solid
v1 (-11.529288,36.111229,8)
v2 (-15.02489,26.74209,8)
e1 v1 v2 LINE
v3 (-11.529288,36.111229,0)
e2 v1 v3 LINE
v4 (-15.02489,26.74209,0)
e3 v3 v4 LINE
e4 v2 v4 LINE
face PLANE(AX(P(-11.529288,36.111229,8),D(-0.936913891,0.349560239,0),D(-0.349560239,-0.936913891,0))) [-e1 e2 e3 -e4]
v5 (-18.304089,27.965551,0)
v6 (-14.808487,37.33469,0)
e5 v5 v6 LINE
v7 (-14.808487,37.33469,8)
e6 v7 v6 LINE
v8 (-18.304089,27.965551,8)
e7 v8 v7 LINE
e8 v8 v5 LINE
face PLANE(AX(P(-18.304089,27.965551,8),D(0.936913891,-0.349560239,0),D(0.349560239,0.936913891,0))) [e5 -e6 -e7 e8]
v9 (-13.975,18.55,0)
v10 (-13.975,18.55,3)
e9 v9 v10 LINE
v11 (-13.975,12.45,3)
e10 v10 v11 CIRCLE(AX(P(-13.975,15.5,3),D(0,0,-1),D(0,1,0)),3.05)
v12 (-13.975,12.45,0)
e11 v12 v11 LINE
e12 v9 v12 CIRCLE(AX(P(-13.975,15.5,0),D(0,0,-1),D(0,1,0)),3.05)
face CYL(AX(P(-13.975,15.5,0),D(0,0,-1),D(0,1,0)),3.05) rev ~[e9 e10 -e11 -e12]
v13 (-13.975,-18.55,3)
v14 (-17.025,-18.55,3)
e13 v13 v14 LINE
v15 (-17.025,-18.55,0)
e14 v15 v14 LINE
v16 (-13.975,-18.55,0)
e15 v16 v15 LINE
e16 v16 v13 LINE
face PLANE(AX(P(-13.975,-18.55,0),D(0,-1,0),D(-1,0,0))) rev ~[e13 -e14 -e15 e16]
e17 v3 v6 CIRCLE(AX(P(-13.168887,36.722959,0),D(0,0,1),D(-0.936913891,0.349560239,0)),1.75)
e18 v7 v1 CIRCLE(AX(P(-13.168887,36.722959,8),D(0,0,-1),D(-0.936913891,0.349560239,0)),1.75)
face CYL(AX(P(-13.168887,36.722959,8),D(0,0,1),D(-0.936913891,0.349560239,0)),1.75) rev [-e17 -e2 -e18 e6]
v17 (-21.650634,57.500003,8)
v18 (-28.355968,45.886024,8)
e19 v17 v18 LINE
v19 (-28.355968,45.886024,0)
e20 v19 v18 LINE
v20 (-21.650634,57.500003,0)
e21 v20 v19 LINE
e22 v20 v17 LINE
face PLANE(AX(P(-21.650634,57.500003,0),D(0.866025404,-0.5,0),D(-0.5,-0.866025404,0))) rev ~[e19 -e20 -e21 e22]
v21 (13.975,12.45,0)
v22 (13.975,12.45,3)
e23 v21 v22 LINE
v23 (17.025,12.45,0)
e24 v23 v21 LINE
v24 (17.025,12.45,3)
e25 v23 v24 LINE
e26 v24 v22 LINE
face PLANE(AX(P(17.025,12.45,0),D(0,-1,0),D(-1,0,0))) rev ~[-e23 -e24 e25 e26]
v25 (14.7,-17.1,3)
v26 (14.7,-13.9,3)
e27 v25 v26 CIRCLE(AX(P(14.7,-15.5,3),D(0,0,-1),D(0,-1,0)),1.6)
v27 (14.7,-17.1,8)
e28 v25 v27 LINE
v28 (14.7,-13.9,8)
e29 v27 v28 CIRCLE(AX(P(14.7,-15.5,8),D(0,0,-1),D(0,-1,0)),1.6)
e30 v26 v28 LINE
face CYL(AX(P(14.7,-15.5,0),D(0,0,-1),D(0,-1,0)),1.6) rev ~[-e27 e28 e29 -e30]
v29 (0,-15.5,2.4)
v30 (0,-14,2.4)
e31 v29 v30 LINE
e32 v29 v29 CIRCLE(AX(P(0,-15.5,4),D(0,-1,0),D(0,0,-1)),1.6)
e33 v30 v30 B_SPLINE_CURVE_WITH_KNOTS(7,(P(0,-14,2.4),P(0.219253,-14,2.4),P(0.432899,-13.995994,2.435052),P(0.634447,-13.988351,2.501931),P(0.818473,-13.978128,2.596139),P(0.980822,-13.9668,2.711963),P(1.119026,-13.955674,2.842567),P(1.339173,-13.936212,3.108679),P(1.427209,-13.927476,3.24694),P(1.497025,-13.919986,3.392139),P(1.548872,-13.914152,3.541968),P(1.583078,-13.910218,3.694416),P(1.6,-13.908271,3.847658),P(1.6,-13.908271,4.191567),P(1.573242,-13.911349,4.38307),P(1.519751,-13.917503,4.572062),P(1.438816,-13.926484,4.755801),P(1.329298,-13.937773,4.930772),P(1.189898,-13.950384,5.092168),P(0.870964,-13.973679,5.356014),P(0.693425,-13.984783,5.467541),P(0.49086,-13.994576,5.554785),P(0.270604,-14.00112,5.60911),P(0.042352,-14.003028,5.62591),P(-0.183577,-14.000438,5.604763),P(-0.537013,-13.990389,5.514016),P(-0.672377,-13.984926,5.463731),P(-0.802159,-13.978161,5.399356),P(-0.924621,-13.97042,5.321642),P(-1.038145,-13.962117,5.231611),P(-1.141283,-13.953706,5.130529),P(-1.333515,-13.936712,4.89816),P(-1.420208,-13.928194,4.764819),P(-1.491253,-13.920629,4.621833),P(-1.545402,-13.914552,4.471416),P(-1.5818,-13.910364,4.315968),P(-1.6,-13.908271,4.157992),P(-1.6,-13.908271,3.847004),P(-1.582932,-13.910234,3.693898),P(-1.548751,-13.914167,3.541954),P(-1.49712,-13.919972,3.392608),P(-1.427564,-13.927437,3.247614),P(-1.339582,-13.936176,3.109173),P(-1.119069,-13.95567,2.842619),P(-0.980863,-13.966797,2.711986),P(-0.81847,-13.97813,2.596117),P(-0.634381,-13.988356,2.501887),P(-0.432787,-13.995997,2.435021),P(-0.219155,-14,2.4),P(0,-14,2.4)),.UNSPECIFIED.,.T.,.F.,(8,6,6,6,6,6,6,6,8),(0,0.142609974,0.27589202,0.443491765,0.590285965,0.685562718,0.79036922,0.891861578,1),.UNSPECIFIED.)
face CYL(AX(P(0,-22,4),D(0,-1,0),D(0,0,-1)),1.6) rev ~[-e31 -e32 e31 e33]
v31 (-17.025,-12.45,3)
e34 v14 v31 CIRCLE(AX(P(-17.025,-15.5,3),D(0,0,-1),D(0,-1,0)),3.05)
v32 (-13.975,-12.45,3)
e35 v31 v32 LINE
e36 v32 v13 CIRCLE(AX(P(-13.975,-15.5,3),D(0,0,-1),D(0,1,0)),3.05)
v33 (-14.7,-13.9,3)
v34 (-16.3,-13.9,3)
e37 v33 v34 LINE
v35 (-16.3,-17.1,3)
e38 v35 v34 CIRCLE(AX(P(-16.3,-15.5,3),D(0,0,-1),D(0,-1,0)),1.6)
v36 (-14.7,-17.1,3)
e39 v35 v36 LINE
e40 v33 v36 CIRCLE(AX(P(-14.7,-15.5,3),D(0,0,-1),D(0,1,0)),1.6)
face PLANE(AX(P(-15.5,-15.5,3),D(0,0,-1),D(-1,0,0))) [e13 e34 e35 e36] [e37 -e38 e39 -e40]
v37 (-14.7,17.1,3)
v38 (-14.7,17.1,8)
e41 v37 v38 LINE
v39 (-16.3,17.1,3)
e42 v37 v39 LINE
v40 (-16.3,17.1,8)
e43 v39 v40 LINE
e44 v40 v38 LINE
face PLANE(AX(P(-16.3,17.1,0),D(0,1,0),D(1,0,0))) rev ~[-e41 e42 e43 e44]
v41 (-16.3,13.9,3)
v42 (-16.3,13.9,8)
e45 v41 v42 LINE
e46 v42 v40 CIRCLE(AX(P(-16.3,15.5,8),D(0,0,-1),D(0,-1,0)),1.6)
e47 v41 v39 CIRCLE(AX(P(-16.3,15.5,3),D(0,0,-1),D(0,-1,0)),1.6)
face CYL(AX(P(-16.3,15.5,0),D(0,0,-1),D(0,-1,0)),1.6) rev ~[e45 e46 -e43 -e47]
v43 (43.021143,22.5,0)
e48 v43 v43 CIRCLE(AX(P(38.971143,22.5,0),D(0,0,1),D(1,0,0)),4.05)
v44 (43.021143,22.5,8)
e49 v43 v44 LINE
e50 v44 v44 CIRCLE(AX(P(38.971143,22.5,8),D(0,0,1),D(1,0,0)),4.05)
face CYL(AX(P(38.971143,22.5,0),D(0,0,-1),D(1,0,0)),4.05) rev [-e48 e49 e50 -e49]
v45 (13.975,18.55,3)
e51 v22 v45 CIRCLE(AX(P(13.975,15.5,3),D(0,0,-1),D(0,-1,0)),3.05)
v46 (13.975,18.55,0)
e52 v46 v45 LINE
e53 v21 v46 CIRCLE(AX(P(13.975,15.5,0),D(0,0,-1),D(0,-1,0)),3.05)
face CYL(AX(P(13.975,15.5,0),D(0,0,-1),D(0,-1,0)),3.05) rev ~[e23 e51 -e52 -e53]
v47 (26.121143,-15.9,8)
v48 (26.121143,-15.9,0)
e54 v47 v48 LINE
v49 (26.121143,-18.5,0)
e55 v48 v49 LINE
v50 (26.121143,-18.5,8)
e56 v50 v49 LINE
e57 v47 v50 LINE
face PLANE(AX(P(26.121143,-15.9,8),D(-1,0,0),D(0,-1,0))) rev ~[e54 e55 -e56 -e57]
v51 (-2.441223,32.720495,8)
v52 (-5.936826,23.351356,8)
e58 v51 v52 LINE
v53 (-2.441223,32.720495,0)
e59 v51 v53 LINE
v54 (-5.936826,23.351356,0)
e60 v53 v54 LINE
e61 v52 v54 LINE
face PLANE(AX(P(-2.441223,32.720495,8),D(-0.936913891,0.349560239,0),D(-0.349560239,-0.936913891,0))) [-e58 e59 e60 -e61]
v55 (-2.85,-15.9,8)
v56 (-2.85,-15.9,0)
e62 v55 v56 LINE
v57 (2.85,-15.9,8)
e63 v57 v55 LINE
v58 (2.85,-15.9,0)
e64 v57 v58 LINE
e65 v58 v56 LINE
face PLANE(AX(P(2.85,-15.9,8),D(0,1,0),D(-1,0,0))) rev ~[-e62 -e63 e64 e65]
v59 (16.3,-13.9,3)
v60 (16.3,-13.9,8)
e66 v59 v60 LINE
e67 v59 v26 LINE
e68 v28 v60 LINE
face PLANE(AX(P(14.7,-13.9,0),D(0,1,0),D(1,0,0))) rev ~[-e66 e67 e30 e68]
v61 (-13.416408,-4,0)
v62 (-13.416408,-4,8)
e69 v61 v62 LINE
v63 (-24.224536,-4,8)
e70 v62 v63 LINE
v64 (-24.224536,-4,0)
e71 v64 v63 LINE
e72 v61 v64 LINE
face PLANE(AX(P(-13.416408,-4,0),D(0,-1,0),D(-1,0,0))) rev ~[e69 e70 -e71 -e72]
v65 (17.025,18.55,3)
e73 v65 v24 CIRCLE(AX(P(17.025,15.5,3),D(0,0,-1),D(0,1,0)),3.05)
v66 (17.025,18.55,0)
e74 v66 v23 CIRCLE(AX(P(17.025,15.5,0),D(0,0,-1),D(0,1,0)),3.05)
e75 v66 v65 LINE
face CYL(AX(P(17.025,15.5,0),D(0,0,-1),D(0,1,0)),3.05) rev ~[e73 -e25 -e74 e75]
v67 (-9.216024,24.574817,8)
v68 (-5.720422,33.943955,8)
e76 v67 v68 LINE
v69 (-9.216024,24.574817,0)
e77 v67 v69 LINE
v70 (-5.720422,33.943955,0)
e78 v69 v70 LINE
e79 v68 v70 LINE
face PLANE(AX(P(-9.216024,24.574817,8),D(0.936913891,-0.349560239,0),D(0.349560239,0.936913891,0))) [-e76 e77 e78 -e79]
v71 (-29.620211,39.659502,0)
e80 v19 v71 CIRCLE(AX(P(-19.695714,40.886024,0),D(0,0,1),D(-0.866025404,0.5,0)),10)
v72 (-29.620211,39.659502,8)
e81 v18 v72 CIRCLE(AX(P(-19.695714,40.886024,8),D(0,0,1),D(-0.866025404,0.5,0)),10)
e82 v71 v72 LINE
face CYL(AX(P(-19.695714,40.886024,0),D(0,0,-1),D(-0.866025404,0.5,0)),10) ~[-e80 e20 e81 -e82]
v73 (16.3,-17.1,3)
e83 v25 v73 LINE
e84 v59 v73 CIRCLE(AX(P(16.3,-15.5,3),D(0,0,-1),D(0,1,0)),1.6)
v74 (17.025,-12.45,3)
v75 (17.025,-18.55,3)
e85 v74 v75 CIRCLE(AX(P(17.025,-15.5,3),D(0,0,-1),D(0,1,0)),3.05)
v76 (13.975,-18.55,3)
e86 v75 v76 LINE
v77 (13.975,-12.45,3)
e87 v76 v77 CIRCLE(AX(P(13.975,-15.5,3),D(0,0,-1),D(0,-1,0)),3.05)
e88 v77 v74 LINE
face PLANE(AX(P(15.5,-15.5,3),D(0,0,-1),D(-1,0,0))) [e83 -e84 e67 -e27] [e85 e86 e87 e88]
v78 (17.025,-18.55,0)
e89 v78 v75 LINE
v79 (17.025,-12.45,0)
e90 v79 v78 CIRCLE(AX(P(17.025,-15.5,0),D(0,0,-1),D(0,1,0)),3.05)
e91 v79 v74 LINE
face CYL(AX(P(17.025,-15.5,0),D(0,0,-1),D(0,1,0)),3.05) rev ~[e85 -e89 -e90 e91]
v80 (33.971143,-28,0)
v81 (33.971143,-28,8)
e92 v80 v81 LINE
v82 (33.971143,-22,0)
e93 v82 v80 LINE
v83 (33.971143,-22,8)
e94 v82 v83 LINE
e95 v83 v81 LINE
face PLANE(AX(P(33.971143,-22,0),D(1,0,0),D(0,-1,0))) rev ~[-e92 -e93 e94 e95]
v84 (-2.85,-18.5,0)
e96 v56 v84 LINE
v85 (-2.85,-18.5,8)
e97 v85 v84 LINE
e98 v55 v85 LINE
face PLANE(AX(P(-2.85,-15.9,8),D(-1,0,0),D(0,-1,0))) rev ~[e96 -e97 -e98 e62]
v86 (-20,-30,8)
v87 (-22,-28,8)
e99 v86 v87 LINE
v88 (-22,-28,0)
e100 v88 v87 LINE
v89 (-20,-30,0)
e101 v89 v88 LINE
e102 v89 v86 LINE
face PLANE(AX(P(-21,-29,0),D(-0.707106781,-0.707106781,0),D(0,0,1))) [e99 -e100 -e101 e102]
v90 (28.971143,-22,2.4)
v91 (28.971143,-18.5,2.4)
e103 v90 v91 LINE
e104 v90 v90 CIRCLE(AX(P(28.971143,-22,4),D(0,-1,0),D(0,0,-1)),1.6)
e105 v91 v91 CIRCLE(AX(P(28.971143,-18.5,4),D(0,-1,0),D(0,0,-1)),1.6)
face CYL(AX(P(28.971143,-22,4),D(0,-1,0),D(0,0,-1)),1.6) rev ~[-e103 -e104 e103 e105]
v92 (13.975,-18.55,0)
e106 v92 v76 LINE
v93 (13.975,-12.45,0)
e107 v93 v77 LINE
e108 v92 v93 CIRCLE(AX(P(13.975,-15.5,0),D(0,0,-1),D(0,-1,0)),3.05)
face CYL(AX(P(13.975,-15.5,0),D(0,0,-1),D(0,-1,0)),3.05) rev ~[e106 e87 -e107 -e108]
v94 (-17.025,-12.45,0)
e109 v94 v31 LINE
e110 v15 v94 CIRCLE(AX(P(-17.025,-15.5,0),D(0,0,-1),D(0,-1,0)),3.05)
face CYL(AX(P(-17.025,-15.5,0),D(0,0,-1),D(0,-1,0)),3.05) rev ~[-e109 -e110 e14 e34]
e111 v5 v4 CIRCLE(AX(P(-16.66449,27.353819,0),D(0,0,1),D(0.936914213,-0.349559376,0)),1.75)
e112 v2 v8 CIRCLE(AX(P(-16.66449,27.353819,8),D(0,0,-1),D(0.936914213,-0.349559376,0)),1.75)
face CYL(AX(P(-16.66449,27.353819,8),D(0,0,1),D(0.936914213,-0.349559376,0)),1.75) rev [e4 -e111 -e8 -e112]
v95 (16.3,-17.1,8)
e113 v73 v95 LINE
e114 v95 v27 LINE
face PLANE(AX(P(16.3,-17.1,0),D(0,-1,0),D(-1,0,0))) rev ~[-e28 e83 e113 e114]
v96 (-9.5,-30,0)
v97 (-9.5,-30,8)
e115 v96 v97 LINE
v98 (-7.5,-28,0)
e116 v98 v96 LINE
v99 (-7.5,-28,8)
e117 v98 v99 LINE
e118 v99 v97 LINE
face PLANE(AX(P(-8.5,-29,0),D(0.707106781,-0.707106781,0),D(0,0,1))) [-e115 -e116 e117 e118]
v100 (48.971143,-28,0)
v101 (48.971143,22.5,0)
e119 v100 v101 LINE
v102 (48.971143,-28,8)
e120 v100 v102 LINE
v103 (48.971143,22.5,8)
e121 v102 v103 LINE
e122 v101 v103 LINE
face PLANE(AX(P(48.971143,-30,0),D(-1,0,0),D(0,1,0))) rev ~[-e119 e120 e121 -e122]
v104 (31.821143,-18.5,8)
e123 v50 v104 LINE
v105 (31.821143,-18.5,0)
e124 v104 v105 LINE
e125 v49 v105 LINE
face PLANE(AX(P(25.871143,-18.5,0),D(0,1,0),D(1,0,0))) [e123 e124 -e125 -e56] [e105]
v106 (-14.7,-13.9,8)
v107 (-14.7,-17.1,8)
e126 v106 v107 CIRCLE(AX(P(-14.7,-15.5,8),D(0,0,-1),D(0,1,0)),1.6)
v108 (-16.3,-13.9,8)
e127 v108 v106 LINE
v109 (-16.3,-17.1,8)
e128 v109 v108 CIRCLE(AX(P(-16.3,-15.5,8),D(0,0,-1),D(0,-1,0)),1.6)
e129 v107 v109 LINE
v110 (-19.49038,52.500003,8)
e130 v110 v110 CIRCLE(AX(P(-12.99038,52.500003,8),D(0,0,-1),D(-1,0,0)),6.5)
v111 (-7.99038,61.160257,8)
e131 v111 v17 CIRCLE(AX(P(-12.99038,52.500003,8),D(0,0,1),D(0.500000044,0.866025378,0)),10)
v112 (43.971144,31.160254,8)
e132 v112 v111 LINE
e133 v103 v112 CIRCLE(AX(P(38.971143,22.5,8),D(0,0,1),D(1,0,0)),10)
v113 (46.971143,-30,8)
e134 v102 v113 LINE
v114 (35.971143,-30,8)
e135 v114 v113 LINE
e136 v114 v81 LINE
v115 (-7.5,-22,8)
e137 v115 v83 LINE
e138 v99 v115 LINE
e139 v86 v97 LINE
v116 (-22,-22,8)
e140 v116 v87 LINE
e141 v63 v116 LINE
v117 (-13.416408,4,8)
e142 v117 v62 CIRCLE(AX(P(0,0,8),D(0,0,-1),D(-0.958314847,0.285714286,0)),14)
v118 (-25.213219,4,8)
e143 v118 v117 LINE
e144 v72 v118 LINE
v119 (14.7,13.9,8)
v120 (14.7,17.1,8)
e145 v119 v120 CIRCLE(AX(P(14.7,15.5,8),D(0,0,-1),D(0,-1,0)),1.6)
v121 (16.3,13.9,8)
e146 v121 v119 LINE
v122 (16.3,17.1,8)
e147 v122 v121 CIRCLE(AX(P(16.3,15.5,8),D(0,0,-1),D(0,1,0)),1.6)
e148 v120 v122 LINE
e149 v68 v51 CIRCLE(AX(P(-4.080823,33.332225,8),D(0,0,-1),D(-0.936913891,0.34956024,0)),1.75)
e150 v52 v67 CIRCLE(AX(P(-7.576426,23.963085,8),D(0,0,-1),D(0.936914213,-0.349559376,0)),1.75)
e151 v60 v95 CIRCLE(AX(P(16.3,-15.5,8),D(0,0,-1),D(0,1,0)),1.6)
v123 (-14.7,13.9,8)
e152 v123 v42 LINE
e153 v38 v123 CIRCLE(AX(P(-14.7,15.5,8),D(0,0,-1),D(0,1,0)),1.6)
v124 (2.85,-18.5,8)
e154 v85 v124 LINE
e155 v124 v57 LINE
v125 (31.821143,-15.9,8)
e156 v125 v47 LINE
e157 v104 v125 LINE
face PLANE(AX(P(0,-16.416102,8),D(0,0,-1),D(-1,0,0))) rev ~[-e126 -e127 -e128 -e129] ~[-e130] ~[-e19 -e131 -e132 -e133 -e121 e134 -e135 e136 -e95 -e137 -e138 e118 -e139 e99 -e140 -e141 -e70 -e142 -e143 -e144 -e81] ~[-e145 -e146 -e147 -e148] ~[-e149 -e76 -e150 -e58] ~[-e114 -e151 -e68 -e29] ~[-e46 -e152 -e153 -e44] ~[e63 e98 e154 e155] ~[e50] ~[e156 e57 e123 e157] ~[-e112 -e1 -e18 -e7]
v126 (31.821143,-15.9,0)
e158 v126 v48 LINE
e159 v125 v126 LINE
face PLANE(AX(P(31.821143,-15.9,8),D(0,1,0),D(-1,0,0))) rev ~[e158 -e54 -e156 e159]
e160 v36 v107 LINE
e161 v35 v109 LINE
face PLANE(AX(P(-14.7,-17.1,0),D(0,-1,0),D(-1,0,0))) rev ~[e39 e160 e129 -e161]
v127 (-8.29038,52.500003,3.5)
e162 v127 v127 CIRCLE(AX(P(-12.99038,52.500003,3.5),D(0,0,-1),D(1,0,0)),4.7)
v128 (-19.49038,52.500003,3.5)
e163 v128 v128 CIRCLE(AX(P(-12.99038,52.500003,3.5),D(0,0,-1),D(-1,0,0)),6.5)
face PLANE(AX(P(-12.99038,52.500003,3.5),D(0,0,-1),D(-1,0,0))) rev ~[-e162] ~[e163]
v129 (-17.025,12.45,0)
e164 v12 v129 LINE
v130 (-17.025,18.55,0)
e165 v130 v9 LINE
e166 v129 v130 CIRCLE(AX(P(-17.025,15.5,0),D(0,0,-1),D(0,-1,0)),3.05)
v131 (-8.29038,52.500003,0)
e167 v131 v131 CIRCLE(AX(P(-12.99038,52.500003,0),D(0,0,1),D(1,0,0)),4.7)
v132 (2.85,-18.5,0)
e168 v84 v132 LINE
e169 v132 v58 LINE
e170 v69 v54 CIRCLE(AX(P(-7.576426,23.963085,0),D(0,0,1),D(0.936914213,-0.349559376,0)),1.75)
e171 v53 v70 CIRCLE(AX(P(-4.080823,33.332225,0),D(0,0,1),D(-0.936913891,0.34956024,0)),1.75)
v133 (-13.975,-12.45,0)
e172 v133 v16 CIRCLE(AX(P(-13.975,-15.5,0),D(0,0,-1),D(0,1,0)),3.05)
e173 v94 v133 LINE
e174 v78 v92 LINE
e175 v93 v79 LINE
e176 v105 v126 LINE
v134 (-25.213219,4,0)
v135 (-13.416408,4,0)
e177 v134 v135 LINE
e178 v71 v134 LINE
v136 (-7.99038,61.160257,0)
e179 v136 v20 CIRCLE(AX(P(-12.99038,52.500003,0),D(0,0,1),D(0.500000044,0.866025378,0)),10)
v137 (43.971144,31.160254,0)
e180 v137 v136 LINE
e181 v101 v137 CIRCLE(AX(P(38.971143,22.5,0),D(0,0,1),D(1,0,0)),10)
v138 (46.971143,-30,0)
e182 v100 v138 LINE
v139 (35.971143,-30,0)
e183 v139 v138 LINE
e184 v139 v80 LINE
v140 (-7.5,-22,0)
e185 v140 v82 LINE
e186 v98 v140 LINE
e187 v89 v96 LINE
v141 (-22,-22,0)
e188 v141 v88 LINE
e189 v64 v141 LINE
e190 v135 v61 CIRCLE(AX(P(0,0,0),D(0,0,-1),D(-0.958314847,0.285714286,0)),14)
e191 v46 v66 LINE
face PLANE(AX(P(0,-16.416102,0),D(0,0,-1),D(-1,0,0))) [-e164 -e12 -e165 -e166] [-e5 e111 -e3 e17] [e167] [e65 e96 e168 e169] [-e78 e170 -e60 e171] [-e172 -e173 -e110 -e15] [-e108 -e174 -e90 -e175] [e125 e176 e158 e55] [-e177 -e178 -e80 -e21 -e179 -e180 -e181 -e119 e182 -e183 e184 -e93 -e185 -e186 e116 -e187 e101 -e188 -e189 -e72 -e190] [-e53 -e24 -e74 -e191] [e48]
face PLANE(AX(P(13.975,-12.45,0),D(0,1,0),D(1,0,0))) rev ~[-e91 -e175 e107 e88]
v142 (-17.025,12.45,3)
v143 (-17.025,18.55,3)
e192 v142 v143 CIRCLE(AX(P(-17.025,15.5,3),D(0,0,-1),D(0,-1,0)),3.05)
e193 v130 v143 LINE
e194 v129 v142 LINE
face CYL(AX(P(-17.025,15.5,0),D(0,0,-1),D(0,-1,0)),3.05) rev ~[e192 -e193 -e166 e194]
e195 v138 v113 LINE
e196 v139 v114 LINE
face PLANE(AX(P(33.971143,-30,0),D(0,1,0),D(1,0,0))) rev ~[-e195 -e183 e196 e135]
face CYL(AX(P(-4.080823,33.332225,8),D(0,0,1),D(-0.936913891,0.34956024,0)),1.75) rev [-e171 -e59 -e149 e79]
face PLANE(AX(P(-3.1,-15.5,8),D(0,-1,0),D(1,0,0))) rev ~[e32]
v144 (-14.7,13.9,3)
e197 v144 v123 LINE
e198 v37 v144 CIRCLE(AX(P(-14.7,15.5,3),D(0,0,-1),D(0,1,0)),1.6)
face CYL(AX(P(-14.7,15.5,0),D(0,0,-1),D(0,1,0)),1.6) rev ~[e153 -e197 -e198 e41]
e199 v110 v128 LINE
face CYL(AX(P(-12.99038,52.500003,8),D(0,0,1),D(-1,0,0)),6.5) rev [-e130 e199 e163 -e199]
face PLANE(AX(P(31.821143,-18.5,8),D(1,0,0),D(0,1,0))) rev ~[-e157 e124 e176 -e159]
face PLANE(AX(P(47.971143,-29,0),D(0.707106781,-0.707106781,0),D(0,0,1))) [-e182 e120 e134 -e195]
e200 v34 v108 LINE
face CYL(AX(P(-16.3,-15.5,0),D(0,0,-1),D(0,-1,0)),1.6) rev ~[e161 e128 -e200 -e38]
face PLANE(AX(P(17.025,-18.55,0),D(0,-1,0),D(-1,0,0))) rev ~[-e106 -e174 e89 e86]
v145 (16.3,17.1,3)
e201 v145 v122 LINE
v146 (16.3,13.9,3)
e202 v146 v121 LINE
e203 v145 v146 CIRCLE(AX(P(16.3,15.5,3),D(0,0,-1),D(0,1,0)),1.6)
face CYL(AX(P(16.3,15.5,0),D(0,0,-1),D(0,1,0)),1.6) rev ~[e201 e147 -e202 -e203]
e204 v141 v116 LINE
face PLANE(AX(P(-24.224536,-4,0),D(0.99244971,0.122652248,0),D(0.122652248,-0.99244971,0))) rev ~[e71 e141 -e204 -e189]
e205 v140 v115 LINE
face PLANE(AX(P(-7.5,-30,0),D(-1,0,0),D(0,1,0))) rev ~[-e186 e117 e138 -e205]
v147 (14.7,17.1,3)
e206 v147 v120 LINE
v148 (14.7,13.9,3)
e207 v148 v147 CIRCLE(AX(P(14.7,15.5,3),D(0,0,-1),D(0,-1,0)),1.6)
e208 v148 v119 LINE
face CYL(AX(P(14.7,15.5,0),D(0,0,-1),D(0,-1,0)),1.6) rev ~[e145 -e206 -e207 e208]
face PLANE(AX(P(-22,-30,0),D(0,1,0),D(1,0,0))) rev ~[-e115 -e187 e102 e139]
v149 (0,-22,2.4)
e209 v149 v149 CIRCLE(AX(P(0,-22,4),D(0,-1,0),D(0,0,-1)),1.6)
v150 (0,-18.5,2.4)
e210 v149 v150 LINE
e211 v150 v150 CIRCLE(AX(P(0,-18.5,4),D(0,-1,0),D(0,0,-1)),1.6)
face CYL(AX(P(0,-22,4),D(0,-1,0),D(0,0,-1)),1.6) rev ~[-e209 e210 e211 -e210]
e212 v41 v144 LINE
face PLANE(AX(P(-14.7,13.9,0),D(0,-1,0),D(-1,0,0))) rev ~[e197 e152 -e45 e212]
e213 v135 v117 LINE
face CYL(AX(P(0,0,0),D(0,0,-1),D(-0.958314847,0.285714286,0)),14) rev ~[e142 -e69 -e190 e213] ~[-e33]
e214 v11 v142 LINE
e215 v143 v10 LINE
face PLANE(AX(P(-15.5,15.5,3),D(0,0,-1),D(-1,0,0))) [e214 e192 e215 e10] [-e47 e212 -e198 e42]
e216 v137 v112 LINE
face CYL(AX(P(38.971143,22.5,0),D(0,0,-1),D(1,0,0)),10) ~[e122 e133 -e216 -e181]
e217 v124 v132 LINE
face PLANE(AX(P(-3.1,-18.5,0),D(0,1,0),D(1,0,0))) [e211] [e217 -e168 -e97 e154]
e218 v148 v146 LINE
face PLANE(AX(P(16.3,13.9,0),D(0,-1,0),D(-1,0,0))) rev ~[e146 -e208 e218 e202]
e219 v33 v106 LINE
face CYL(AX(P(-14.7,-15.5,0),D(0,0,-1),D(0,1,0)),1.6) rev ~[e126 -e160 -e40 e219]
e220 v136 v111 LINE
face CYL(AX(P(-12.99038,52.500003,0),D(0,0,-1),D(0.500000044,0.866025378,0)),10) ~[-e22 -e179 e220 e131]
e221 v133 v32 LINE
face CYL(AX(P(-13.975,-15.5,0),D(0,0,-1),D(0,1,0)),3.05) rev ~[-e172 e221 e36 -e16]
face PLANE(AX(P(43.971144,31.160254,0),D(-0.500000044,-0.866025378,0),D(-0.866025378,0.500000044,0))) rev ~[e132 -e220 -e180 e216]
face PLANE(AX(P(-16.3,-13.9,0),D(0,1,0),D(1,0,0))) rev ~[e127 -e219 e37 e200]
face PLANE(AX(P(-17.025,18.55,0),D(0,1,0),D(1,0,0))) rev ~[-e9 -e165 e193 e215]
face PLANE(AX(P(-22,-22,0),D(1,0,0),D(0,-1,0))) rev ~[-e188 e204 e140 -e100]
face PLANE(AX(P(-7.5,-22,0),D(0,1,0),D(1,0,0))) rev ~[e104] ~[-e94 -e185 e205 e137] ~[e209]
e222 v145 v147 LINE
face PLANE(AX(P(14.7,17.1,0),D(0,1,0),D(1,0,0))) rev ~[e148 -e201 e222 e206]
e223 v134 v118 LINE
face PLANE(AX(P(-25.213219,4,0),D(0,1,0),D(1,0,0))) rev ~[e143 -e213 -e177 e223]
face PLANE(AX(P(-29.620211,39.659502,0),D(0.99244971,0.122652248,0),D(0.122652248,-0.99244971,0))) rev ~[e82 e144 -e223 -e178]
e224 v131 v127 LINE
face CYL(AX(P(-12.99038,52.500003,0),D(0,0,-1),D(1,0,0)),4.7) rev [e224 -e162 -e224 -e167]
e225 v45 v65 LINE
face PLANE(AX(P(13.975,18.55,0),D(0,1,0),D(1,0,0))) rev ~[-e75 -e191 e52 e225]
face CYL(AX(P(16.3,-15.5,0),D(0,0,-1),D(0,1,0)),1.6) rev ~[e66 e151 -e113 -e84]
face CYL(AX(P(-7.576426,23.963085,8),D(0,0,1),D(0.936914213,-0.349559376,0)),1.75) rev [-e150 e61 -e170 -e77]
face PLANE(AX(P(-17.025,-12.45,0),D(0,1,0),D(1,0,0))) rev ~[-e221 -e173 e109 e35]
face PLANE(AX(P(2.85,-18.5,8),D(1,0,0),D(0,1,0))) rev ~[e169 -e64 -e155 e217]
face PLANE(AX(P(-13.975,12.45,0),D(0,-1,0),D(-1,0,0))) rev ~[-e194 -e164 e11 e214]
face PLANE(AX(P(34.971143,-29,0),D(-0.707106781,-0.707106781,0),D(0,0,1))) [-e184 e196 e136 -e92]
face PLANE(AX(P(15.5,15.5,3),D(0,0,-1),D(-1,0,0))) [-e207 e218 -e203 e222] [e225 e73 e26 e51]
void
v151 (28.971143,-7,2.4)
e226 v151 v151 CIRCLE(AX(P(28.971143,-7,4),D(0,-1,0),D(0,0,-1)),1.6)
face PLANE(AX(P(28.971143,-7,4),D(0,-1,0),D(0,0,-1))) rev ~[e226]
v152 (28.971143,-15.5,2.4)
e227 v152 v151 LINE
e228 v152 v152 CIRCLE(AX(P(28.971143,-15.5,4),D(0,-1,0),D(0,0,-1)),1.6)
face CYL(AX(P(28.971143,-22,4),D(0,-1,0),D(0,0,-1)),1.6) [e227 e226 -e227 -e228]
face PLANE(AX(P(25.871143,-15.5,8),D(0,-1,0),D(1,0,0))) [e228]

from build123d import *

# Parameters (mm, degrees)
SKETCH_3_R          = 4.05
SKETCH_3_R_2        = 4.7
SKETCH_3_W          = 6.2
SKETCH_3_H          = 3
EXTRUDE_1_DEPTH     = 8
SKETCH_4_R          = 6.5
CUT_EXTRUDE_1_DEPTH = 4.5
CUT_EXTRUDE_2_DEPTH = 3
SKETCH_6_R          = 1.6
CUT_EXTRUDE_3_DEPTH = 15
SKETCH_7_R          = 4.05
CUT_EXTRUDE_4_DEPTH = 80.802401326
CHAMFER_1_SIZE      = 2
EXTRUDE_2_DEPTH     = 8


with BuildPart() as part:
    # 草图3 → 凸台-拉伸1 (new body)
    with BuildSketch(Plane.XY):
        with BuildLine():
            Line((43.971143614, 31.160253781), (-7.990379897, 61.160256921))
            ThreePointArc((-7.990379897, 61.160256921), (-15.578570545, 62.159261468), (-21.650634379, 57.500003139))
            Line((-21.650634379, 57.500003139), (-28.355968253, 45.886024187))
            ThreePointArc((-28.355968253, 45.886024187), (-29.495746829, 42.875838443), (-29.620211311, 39.659501706))
            Line((-29.620211311, 39.659501706), (-25.213219189, 4))
            Line((-25.213219189, 4), (-13.416407865, 4))
            ThreePointArc((-13.416407865, 4), (14, 0), (-13.416407865, -4))
            Line((-13.416407865, -4), (-24.224536362, -4))
            Line((-24.224536362, -4), (-22, -22))
            Line((-22, -22), (-22, -30))
            Line((-22, -30), (-7.5, -30))
            Line((-7.5, -30), (-7.5, -22))
            Line((-7.5, -22), (33.97114317, -22))
            Line((33.97114317, -22), (33.97114317, -30))
            Line((33.97114317, -30), (48.97114317, -30))
            Line((48.97114317, -30), (48.97114317, 22.5))
            ThreePointArc((48.97114317, 22.5), (47.631397336, 27.499999778), (43.971143614, 31.160253781))
        make_face()
        with Locations((38.97114317, 22.5)):
            Circle(SKETCH_3_R, mode=Mode.SUBTRACT)
        with Locations((-12.990380341, 52.500003139)):
            Circle(SKETCH_3_R_2, mode=Mode.SUBTRACT)
        with BuildLine():
            Line((-16.3, 17.1), (-14.7, 17.1))
            ThreePointArc((-14.7, 17.1), (-13.1, 15.5), (-14.7, 13.9))
            Line((-14.7, 13.9), (-16.3, 13.9))
            ThreePointArc((-16.3, 13.9), (-17.9, 15.5), (-16.3, 17.1))
        make_face(mode=Mode.SUBTRACT)
        with BuildLine():
            Line((14.7, 17.1), (16.3, 17.1))
            ThreePointArc((16.3, 17.1), (17.9, 15.5), (16.3, 13.9))
            Line((16.3, 13.9), (14.7, 13.9))
            ThreePointArc((14.7, 13.9), (13.1, 15.5), (14.7, 17.1))
        make_face(mode=Mode.SUBTRACT)
        with BuildLine():
            Line((14.7, -13.9), (16.3, -13.9))
            ThreePointArc((16.3, -13.9), (17.9, -15.5), (16.3, -17.1))
            Line((16.3, -17.1), (14.7, -17.1))
            ThreePointArc((14.7, -17.1), (13.1, -15.5), (14.7, -13.9))
        make_face(mode=Mode.SUBTRACT)
        with BuildLine():
            Line((-16.3, -13.9), (-14.7, -13.9))
            ThreePointArc((-14.7, -13.9), (-13.1, -15.5), (-14.7, -17.1))
            Line((-14.7, -17.1), (-16.3, -17.1))
            ThreePointArc((-16.3, -17.1), (-17.9, -15.5), (-16.3, -13.9))
        make_face(mode=Mode.SUBTRACT)
        with Locations((0, -17)):
            Rectangle(SKETCH_3_W, SKETCH_3_H, mode=Mode.SUBTRACT)
        with Locations((28.97114317, -17)):
            Rectangle(SKETCH_3_W, SKETCH_3_H, mode=Mode.SUBTRACT)
    extrude(amount=EXTRUDE_1_DEPTH)

    # 草图4 → 切除-拉伸1 (cut)
    with BuildSketch(Plane(origin=(0, 0, 8), x_dir=(-1, 0, 0), z_dir=(0, 0, -1))):
        with Locations((12.990380341, 52.500003139)):
            Circle(SKETCH_4_R)
    extrude(amount=CUT_EXTRUDE_1_DEPTH, mode=Mode.SUBTRACT)

    # 草图5 → 切除-拉伸2 (cut)
    with BuildSketch(Plane.XY):
        with BuildLine():
            Line((-17.025, 18.55), (-13.975, 18.55))
            ThreePointArc((-13.975, 18.55), (-10.925, 15.5), (-13.975, 12.45))
            Line((-13.975, 12.45), (-17.025, 12.45))
            ThreePointArc((-17.025, 12.45), (-20.075, 15.5), (-17.025, 18.55))
        make_face()
        with BuildLine():
            Line((13.975, 18.55), (17.025, 18.55))
            ThreePointArc((17.025, 18.55), (20.075, 15.5), (17.025, 12.45))
            Line((17.025, 12.45), (13.975, 12.45))
            ThreePointArc((13.975, 12.45), (10.925, 15.5), (13.975, 18.55))
        make_face()
        with BuildLine():
            Line((13.975, -12.45), (17.025, -12.45))
            ThreePointArc((17.025, -12.45), (20.075, -15.5), (17.025, -18.55))
            Line((17.025, -18.55), (13.975, -18.55))
            ThreePointArc((13.975, -18.55), (10.925, -15.5), (13.975, -12.45))
        make_face()
        with BuildLine():
            Line((-17.025, -12.45), (-13.975, -12.45))
            ThreePointArc((-13.975, -12.45), (-10.925, -15.5), (-13.975, -18.55))
            Line((-13.975, -18.55), (-17.025, -18.55))
            ThreePointArc((-17.025, -18.55), (-20.075, -15.5), (-17.025, -12.45))
        make_face()
    extrude(amount=CUT_EXTRUDE_2_DEPTH, mode=Mode.SUBTRACT)

    # 草图6 → 切除-拉伸3 (cut)
    with BuildSketch(Plane.XZ.offset(22)):
        with Locations(Location((0, 4, 0), (0, 0, 270))):
            Circle(SKETCH_6_R)
        with Locations(Location((28.97114317, 4, 0), (0, 0, 270))):
            Circle(SKETCH_6_R)
    extrude(amount=-CUT_EXTRUDE_3_DEPTH, mode=Mode.SUBTRACT)

    # 草图7 → 切除-拉伸4 (cut, through all)
    with BuildSketch(Plane.XY.offset(8)):
        with Locations((38.97114317, 22.5)):
            Circle(SKETCH_7_R)
        with BuildLine():
            Line((-9.216024373, 24.574816528), (-5.72042198, 33.943955438))
            ThreePointArc((-5.72042198, 33.943955438), (-3.469092252, 34.971824328), (-2.441223361, 32.7204946))
            Line((-2.441223361, 32.7204946), (-5.936825754, 23.35135569))
            ThreePointArc((-5.936825754, 23.35135569), (-8.188156046, 22.323485289), (-9.216024373, 24.574816528))
        make_face()
        with BuildLine():
            Line((-18.304089115, 27.965550849), (-14.808486722, 37.334689759))
            ThreePointArc((-14.808486722, 37.334689759), (-12.557156994, 38.362558649), (-11.529288104, 36.111228921))
            Line((-11.529288104, 36.111228921), (-15.024890497, 26.742090011))
            ThreePointArc((-15.024890497, 26.742090011), (-17.276220788, 25.71421961), (-18.304089115, 27.965550849))
        make_face()
    extrude(amount=-CUT_EXTRUDE_4_DEPTH, mode=Mode.SUBTRACT)

    # 倒角1
    chamfer_1_edges = [part.edges().sort_by_distance(p)[0] for p in [
        (48.97114317, -30, 4),
        (33.97114317, -30, 4),
        (-7.5, -30, 4),
        (-22, -30, 4),
    ]]
    chamfer(chamfer_1_edges, length=CHAMFER_1_SIZE)

    # 草图9 → 凸台-拉伸2 (add)
    with BuildSketch(Plane.XY.offset(8)):
        Polygon((2.85, -15.9), (-2.85, -15.9), (-2.85, -18.5), (-3.1, -18.5), (-3.1, -15.5), (3.1, -15.5), (3.1, -18.5), (2.85, -18.5), align=None)
        Polygon((31.82114317, -15.9), (26.12114317, -15.9), (26.12114317, -18.5), (25.87114317, -18.5), (25.87114317, -15.5), (32.07114317, -15.5), (32.07114317, -18.5), (31.82114317, -18.5), align=None)
    extrude(amount=-EXTRUDE_2_DEPTH)


solid = part.part
